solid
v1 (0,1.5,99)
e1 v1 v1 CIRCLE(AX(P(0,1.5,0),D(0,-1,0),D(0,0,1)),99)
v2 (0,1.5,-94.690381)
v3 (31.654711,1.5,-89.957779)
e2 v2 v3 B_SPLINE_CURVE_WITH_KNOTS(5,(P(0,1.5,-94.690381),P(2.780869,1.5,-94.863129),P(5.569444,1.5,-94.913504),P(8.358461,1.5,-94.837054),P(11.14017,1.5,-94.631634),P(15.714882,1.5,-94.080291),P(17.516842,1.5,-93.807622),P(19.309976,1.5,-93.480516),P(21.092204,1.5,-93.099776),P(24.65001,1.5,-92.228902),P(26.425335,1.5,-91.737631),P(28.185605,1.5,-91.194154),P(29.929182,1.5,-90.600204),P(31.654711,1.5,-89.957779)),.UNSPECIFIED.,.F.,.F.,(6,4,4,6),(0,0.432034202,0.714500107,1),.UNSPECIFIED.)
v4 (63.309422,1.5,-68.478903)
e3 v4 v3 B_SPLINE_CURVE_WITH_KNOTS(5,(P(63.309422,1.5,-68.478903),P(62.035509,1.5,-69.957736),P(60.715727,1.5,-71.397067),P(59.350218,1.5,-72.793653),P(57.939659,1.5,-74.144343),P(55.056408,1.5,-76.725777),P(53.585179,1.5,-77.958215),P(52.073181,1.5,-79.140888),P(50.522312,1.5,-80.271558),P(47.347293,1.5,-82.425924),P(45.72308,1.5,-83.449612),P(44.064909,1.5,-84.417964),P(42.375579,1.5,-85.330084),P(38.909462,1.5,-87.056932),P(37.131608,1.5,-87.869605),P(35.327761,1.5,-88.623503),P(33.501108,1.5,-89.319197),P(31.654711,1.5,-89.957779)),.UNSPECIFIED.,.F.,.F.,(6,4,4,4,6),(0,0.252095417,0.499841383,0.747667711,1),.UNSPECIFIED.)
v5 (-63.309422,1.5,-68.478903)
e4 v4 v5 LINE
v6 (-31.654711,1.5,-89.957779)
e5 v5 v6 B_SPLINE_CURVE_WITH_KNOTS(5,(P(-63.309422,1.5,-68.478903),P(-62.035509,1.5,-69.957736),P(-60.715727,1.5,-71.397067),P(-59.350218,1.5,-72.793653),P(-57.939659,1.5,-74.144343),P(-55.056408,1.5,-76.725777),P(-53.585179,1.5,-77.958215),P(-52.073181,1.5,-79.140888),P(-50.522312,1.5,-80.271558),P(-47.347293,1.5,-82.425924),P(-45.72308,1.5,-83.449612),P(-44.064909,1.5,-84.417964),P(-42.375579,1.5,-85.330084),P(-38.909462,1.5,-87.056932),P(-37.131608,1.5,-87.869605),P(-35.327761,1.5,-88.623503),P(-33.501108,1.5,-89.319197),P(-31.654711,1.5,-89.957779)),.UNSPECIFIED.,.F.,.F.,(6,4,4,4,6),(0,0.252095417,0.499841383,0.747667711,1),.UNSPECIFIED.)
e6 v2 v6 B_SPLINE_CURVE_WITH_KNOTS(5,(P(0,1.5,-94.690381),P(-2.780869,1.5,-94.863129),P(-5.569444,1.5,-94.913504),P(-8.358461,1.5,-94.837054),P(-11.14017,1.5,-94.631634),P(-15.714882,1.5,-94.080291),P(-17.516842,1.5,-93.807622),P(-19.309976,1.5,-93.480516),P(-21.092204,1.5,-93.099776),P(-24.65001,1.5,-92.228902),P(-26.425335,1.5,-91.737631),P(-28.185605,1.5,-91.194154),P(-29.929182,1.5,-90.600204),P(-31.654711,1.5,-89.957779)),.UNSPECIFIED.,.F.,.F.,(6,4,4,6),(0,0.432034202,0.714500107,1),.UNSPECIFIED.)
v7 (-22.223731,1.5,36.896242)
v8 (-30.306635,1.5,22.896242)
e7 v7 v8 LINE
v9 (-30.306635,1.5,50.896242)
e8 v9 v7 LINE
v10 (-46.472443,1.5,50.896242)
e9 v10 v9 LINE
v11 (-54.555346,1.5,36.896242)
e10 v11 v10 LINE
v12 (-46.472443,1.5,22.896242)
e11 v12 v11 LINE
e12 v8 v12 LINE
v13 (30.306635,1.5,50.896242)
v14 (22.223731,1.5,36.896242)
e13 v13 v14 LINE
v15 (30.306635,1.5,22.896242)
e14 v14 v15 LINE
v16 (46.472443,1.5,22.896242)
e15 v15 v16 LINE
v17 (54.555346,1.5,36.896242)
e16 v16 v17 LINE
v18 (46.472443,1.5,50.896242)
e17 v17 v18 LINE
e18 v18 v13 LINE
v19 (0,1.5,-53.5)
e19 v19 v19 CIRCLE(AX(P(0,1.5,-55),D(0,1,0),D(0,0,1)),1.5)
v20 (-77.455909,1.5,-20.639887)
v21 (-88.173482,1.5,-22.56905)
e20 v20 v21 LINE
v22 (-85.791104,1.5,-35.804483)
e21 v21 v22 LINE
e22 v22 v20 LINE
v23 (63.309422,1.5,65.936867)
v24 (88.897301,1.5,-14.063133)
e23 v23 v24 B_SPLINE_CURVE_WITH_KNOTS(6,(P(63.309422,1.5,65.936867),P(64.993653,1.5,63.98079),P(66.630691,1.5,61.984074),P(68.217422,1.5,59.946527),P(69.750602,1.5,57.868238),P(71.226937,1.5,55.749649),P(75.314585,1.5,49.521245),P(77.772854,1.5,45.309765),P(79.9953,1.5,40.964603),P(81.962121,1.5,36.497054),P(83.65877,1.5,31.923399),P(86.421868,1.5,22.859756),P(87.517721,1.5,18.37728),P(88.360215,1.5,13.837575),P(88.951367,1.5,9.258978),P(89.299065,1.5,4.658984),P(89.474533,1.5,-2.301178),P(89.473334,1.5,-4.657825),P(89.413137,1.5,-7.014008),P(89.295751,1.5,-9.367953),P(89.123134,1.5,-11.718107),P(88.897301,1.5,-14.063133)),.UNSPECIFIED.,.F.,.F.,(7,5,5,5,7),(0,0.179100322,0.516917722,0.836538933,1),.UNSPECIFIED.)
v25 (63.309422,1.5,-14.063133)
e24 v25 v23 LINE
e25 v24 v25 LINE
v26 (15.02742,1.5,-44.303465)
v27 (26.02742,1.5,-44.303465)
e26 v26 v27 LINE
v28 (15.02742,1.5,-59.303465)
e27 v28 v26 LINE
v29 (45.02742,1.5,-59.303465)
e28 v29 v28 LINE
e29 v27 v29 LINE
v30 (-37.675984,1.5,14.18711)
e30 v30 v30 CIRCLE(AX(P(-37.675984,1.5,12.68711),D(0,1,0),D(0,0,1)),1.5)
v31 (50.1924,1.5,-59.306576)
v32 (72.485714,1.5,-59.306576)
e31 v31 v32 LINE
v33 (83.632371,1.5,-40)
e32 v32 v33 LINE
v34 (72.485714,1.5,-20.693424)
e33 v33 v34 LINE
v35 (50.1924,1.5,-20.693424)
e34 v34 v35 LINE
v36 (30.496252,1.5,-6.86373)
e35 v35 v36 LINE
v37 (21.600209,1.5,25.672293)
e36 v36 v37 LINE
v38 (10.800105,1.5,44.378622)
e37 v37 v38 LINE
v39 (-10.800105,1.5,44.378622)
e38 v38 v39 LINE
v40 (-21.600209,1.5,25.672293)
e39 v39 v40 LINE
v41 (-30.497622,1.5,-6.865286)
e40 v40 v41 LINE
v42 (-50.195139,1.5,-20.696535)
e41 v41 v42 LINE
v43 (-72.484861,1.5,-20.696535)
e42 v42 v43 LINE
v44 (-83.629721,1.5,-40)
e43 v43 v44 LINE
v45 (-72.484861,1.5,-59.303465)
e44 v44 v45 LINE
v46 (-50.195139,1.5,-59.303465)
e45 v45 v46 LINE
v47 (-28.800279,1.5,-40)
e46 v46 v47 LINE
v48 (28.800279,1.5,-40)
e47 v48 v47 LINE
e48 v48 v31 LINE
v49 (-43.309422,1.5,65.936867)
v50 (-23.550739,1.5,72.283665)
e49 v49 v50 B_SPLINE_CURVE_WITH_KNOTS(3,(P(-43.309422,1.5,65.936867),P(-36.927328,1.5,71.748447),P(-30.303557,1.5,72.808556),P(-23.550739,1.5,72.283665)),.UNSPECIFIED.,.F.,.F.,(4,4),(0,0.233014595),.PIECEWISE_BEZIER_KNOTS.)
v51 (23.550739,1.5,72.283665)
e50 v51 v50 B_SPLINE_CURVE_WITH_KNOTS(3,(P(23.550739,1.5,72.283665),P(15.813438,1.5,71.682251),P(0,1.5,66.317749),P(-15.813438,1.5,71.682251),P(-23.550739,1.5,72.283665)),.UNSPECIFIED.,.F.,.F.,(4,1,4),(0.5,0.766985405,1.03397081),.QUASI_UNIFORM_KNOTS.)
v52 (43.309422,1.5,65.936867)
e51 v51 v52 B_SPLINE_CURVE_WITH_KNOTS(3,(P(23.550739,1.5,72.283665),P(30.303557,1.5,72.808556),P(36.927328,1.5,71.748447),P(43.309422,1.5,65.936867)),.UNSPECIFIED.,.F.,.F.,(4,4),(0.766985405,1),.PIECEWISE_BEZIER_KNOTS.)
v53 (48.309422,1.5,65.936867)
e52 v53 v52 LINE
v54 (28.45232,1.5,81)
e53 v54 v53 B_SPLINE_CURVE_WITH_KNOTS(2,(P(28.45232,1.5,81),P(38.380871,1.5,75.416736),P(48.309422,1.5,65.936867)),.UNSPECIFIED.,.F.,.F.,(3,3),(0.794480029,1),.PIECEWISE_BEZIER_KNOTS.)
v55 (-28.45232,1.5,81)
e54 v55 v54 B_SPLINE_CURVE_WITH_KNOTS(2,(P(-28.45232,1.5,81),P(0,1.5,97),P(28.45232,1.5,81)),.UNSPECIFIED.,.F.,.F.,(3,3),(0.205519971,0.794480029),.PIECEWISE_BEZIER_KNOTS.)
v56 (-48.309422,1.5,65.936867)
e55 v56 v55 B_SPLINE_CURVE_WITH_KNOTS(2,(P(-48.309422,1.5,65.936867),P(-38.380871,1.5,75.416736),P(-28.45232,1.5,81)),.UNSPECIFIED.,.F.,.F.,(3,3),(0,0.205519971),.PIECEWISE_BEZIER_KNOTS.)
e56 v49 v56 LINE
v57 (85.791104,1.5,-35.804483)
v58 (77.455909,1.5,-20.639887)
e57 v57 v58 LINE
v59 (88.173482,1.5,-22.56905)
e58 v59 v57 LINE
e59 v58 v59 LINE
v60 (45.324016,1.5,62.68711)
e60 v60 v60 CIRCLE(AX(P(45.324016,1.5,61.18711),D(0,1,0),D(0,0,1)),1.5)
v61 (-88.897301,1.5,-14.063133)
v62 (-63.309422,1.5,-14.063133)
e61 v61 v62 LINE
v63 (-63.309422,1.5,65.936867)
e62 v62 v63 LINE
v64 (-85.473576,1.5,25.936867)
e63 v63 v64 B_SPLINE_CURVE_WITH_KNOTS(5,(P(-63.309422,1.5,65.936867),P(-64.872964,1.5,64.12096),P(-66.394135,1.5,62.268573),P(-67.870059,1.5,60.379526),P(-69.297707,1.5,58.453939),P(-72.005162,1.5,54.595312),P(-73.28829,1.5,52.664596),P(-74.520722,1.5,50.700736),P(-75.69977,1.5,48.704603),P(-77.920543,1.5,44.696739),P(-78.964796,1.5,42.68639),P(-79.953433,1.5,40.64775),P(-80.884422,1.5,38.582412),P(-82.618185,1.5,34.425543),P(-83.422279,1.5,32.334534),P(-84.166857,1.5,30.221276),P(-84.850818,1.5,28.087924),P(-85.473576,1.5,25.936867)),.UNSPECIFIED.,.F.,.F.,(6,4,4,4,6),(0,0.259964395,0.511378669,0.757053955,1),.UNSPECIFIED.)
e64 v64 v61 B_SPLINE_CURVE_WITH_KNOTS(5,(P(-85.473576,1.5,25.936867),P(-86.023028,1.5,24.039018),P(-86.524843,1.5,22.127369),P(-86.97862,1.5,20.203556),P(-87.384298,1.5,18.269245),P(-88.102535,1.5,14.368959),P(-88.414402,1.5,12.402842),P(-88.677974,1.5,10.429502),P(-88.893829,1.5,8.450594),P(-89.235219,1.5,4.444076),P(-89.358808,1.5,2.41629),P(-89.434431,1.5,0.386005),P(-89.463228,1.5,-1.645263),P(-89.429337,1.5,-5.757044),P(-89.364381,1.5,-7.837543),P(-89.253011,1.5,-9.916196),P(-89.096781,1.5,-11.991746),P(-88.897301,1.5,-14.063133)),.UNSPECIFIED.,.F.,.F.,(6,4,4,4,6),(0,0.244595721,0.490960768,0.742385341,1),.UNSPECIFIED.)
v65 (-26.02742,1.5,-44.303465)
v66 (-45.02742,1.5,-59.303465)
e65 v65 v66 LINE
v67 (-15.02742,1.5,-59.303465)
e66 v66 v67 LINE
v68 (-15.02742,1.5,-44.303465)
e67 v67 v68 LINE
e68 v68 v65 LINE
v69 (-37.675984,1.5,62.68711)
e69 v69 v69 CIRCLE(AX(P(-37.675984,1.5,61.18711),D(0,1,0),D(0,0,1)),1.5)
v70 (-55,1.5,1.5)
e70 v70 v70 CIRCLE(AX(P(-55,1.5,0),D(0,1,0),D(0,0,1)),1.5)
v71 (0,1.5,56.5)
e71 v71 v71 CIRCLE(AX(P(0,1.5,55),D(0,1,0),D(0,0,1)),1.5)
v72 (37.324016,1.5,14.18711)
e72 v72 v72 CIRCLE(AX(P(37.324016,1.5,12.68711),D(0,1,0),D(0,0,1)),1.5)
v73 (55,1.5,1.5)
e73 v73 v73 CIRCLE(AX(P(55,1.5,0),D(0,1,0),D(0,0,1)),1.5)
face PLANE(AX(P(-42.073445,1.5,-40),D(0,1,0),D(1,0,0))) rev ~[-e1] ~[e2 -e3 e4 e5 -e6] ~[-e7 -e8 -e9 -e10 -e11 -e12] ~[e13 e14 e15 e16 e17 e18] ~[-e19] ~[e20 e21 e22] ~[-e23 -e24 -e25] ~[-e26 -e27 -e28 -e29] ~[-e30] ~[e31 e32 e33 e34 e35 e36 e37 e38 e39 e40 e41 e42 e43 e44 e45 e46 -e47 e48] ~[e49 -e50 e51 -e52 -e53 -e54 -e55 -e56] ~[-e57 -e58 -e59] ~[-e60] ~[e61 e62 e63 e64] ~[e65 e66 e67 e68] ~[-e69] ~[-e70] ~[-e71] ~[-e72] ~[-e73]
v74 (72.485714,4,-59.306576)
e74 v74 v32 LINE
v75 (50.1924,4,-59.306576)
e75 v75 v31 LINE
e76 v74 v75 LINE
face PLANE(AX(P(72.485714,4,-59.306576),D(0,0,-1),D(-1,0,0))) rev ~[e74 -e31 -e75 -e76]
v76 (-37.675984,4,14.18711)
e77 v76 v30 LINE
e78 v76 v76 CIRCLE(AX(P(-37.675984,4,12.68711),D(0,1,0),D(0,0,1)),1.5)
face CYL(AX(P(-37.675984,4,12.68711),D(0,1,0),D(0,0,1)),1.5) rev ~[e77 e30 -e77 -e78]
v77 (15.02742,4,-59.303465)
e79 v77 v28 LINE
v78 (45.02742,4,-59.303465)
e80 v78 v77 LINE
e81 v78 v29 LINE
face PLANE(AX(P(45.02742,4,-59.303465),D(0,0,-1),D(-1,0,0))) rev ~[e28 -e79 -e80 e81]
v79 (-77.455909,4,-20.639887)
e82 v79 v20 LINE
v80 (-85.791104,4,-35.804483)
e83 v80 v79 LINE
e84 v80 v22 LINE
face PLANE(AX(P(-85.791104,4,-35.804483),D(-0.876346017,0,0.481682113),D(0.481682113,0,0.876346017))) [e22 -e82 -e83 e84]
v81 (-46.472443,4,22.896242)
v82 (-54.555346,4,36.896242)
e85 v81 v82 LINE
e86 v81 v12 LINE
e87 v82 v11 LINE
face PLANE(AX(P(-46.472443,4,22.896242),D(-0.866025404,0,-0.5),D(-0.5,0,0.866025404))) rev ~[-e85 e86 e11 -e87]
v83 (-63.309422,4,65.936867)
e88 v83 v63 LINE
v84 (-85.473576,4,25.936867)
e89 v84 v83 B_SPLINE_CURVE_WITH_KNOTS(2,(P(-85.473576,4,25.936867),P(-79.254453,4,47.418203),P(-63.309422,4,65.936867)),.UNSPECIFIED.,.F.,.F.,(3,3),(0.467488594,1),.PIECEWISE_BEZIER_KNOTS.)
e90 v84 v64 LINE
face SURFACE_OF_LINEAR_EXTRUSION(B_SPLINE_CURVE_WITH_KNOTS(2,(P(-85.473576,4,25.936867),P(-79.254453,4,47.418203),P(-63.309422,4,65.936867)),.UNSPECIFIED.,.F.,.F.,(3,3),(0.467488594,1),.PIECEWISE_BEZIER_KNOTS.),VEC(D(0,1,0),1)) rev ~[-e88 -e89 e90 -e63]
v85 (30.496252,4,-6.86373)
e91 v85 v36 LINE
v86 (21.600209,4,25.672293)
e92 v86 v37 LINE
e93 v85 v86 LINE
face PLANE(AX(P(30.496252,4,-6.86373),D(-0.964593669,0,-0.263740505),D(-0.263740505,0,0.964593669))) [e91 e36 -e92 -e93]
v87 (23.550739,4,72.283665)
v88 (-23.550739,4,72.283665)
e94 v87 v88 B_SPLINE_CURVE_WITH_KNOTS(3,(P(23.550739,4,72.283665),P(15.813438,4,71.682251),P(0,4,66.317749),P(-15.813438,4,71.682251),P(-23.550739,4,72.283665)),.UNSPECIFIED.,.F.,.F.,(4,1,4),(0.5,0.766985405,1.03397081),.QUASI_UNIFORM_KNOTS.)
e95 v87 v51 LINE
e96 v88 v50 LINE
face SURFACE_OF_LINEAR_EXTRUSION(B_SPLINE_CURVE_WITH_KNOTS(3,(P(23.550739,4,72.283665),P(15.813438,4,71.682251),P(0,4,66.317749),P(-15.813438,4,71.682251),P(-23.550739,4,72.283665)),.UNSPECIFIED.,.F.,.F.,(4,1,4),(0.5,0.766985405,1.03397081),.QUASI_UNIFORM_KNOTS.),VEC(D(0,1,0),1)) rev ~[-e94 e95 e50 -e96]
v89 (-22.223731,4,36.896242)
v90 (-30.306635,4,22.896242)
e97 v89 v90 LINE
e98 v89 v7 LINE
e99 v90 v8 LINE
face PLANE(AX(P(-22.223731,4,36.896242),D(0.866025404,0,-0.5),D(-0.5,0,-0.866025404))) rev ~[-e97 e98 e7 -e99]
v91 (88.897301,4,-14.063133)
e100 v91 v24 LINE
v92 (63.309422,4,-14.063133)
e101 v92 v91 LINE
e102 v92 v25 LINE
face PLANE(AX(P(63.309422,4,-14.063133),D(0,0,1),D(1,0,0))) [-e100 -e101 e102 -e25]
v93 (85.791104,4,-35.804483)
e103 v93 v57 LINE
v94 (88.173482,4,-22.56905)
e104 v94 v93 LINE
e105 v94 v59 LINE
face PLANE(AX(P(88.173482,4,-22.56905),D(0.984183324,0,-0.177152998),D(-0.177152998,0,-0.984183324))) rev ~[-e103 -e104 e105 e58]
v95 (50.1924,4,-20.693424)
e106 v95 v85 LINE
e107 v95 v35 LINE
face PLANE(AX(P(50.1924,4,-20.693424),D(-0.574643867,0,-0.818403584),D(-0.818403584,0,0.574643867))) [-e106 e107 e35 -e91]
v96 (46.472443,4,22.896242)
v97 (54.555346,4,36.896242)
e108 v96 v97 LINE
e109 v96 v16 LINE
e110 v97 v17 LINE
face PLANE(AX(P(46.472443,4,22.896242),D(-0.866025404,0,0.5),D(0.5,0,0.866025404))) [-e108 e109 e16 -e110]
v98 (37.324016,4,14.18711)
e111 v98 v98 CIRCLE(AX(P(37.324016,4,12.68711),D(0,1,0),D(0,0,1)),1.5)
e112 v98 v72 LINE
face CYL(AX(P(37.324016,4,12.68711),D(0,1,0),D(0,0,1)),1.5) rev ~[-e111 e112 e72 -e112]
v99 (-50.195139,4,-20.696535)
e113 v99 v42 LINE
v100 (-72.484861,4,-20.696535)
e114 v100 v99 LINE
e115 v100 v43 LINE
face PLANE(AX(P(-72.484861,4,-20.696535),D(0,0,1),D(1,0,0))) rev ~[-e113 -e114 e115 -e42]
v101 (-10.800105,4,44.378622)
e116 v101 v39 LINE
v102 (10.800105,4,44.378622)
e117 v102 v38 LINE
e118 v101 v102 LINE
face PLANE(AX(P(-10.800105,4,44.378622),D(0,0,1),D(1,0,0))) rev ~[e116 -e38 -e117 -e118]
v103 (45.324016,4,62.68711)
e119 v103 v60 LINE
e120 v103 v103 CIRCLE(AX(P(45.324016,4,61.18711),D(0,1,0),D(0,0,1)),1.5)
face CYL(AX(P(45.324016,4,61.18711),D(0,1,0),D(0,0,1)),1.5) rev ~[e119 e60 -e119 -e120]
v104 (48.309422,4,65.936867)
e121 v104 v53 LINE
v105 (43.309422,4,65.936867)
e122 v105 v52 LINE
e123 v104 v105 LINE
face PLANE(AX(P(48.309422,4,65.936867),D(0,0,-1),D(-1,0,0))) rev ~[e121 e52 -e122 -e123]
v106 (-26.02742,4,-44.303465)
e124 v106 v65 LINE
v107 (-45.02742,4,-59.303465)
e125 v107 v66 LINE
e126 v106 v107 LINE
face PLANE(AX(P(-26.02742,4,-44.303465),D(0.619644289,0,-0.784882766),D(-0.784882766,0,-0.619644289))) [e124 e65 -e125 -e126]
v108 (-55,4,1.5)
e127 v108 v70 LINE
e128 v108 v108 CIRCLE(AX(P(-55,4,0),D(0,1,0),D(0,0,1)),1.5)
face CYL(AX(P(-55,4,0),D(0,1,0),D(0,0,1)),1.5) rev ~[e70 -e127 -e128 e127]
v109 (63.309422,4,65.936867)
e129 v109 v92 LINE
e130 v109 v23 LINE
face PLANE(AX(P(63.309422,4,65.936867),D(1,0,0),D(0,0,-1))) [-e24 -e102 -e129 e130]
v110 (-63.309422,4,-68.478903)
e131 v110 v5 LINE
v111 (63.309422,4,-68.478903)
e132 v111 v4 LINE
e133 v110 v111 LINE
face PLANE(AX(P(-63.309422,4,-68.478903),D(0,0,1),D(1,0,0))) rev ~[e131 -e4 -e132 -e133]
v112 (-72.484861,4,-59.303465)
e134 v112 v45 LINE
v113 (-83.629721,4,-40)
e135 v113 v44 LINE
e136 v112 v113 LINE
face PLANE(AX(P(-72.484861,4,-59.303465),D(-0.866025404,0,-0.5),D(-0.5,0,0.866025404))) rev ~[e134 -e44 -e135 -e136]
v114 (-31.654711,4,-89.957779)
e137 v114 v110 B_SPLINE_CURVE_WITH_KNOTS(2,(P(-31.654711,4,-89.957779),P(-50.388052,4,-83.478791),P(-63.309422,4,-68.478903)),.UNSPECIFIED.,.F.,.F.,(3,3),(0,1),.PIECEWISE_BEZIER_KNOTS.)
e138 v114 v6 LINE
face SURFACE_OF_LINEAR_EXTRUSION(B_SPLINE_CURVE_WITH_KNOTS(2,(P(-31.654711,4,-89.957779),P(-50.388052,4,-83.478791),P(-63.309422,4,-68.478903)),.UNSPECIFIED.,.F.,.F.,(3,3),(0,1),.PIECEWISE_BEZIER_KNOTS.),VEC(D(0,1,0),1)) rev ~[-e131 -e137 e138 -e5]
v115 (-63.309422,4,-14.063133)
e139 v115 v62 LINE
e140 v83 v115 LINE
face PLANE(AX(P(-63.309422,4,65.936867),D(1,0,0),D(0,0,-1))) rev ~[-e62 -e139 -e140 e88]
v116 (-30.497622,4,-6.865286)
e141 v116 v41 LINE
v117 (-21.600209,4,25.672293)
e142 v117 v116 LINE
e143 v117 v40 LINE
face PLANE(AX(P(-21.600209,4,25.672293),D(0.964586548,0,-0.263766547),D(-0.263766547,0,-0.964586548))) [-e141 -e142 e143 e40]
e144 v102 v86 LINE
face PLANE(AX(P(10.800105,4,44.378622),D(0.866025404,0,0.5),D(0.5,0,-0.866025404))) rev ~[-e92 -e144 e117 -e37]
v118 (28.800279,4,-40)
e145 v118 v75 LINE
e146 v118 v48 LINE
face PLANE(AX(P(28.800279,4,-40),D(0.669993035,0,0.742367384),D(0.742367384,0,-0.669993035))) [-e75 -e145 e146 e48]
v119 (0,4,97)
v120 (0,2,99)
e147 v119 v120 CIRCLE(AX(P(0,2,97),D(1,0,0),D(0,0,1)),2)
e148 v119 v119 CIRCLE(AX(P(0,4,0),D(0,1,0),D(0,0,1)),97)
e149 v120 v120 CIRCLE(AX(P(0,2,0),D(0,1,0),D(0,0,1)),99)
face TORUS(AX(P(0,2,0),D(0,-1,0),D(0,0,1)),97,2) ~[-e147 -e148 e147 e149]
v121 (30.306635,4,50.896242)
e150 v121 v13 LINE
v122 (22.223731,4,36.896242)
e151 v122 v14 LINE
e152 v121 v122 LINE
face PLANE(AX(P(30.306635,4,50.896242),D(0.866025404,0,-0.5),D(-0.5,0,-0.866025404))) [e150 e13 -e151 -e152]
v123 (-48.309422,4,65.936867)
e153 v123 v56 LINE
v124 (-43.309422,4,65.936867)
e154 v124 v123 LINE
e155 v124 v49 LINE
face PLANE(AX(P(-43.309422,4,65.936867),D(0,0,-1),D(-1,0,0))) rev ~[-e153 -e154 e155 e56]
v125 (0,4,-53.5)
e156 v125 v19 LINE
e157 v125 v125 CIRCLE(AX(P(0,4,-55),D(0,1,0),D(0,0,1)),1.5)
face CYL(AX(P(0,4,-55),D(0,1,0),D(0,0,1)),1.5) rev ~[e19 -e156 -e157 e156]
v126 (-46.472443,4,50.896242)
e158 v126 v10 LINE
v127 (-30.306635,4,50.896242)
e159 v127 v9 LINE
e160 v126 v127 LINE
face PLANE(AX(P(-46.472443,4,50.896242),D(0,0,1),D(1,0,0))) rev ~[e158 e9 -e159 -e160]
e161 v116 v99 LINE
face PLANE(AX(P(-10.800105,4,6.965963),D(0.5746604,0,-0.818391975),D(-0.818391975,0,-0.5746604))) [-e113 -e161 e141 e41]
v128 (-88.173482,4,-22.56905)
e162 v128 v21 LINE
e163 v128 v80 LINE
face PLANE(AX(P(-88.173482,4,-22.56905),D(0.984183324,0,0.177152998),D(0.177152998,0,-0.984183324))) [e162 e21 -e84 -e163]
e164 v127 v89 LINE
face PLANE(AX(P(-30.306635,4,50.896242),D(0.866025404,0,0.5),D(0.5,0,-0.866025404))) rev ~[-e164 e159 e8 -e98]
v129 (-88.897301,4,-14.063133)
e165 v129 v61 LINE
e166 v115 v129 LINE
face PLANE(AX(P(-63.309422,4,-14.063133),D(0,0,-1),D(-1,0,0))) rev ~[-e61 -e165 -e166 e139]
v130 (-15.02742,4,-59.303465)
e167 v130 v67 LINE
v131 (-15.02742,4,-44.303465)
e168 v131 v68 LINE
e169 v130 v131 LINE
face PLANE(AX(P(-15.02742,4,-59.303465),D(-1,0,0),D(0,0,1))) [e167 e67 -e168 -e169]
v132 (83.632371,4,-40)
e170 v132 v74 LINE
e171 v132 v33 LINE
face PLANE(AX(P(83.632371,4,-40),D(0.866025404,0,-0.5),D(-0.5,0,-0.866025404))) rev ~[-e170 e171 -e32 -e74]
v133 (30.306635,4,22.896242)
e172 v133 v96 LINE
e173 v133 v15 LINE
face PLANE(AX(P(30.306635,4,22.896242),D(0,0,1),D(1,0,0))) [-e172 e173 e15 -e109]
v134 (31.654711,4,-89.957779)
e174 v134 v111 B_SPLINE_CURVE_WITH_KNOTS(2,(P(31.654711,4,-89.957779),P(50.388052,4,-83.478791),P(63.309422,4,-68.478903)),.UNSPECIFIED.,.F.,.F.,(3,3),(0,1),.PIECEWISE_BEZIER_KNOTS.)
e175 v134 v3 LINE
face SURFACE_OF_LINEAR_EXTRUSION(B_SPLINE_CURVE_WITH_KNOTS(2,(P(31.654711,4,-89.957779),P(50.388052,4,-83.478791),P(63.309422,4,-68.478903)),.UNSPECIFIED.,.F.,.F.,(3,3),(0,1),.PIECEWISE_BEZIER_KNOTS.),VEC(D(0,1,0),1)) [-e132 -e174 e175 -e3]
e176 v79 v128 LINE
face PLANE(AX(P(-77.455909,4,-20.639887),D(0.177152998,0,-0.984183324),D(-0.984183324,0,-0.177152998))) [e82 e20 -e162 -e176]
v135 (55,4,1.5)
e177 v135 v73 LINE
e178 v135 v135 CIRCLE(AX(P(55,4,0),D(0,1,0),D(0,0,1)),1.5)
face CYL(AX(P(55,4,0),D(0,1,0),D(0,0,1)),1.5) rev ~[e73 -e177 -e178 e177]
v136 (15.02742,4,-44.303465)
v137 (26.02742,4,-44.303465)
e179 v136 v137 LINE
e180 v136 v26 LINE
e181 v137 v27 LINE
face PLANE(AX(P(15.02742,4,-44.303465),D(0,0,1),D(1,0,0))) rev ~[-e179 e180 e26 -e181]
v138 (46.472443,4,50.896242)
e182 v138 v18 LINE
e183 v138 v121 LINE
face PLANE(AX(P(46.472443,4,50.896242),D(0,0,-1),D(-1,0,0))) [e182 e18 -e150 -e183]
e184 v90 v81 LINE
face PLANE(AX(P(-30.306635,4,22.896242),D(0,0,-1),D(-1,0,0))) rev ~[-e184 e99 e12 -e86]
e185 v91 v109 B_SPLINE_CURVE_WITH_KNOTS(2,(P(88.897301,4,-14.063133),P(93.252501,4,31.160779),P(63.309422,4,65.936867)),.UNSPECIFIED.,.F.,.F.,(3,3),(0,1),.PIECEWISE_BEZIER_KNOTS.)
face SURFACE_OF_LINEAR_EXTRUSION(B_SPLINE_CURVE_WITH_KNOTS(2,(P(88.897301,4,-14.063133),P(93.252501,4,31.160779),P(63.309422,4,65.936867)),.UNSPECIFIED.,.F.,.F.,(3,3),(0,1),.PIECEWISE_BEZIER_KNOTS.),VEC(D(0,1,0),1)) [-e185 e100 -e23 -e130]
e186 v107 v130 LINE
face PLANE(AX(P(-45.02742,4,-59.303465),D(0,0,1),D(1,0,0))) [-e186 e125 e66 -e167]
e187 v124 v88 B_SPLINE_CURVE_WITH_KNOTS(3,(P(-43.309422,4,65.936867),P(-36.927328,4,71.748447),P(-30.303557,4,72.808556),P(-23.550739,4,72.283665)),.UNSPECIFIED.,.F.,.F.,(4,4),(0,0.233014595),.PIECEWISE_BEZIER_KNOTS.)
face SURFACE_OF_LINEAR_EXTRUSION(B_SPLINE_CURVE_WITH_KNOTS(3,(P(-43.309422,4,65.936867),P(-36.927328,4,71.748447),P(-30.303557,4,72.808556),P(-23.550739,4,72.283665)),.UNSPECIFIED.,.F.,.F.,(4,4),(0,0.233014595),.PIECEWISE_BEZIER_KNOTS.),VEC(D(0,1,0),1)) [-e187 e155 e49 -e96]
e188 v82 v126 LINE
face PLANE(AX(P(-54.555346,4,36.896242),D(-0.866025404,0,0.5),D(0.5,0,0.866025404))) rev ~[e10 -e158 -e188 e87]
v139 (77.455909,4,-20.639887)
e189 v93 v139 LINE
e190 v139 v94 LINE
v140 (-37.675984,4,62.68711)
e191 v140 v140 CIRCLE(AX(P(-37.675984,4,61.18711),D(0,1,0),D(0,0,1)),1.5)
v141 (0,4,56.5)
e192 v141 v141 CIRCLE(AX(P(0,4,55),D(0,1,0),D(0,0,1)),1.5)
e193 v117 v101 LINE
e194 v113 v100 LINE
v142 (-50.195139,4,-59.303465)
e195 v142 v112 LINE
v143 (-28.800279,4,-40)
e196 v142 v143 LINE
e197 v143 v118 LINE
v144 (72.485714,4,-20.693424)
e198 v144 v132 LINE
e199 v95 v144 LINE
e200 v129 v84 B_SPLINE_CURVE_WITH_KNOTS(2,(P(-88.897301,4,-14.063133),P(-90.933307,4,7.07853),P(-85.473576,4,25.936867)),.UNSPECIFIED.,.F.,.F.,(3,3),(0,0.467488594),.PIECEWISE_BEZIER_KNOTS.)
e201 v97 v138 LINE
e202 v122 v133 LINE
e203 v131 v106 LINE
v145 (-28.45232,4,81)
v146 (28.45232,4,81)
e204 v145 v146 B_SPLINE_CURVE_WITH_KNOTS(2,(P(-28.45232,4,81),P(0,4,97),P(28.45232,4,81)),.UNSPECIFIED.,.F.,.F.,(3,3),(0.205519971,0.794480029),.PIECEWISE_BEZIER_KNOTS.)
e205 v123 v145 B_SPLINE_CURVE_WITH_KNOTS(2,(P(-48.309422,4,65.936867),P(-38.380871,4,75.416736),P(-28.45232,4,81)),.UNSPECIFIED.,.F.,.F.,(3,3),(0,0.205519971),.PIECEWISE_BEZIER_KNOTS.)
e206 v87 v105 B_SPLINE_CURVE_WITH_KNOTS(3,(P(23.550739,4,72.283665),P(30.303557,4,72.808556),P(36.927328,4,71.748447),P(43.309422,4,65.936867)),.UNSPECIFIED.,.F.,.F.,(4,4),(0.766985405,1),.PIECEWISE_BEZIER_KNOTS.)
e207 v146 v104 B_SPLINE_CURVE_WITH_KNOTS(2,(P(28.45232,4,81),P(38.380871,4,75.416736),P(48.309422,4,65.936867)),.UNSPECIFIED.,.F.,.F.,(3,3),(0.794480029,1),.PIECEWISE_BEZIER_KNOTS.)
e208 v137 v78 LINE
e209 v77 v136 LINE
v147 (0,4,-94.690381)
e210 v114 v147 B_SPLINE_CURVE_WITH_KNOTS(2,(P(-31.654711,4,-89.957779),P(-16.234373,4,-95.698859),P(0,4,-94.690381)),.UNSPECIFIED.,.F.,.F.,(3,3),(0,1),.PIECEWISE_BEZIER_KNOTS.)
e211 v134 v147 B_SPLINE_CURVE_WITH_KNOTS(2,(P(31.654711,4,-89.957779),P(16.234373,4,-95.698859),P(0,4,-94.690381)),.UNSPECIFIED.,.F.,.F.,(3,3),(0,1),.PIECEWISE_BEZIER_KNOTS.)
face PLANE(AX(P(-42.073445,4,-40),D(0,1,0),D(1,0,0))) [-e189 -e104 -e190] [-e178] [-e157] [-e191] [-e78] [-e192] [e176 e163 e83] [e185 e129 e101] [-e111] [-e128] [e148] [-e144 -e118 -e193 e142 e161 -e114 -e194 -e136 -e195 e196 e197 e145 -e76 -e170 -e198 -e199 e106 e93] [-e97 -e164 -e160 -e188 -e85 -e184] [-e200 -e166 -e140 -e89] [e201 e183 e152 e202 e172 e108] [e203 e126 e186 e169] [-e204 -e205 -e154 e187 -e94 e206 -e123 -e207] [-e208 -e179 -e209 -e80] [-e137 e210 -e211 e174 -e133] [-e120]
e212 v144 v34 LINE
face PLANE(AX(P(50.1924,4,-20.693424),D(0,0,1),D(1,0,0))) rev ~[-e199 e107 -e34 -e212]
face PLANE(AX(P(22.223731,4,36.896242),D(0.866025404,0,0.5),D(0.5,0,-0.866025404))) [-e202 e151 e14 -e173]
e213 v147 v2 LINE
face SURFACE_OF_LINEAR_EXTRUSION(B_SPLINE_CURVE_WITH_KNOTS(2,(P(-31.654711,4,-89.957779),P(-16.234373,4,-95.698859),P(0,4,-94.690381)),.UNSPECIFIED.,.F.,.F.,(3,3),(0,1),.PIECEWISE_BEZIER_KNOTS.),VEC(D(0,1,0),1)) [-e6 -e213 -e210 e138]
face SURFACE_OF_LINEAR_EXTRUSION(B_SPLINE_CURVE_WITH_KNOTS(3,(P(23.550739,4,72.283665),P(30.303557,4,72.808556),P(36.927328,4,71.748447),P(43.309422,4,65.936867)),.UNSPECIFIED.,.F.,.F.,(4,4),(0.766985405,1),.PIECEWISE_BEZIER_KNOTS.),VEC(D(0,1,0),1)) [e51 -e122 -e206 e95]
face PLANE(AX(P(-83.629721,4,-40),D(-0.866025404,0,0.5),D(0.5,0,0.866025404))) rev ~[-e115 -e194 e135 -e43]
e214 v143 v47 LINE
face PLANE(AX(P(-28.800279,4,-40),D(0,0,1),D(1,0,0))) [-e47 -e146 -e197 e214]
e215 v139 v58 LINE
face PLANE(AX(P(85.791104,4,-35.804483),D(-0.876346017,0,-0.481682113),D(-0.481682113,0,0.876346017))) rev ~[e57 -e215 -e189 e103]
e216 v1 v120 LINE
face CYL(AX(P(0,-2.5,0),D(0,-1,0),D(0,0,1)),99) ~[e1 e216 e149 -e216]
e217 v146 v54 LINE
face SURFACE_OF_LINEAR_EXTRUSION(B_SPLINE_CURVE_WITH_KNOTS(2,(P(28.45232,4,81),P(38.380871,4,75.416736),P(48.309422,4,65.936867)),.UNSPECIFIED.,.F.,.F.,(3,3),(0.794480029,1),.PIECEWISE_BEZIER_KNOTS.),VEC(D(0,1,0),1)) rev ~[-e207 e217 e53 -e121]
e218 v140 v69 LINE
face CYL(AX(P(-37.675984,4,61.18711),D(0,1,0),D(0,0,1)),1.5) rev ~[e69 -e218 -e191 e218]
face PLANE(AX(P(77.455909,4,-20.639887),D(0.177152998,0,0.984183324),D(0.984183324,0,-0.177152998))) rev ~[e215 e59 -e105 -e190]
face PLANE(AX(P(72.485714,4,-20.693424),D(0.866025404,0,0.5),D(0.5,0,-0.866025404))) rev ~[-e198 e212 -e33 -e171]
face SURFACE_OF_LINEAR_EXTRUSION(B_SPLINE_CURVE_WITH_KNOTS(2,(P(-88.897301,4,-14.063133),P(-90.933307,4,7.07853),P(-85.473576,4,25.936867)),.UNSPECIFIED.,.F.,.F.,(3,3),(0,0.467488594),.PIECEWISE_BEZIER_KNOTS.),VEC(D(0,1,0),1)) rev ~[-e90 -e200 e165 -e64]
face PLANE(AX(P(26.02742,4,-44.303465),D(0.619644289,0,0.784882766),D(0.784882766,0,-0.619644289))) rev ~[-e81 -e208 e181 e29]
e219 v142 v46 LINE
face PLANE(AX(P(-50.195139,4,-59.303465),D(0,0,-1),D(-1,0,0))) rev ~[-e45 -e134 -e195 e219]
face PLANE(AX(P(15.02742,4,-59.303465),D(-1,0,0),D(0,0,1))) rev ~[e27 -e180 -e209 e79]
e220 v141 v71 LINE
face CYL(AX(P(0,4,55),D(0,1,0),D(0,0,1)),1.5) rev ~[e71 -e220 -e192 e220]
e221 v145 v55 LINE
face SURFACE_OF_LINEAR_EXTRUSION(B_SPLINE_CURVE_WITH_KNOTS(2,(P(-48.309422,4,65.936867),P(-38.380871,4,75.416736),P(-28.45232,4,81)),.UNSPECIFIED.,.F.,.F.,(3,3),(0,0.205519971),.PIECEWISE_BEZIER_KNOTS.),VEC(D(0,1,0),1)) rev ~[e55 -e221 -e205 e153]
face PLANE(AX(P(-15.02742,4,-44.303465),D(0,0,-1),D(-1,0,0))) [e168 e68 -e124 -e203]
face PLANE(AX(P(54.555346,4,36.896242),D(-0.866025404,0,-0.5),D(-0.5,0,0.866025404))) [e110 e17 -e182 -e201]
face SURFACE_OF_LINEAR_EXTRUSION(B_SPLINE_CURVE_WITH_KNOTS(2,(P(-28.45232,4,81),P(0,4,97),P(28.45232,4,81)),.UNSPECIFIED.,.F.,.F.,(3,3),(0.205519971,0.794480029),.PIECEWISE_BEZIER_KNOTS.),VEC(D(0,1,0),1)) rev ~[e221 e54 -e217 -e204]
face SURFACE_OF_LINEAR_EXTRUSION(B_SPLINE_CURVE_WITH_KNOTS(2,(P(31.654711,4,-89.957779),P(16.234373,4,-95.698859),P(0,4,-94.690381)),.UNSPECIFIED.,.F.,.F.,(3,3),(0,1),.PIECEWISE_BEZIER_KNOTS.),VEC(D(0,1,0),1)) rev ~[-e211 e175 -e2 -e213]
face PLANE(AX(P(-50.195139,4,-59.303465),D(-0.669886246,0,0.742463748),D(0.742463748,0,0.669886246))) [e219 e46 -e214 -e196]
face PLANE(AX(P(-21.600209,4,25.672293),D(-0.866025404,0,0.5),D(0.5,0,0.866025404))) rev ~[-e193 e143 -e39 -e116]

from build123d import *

# Parameters (mm, degrees)
BOSS_EXTRUDE1_DEPTH      = 4
BOSS_EXTRUDE1_DEPTH_BACK = 2.5
SKETCH1_R                = 99
SKETCH3_R                = 1.5
CUT_EXTRUDE2_DEPTH       = 20.5
SKETCH4_R                = 1.5
CUT_EXTRUDE3_DEPTH       = 20.5
CUT_EXTRUDE4_DEPTH       = 10
CUT_EXTRUDE5_DEPTH       = 10
CUT_EXTRUDE6_DEPTH       = 10
BOSS_EXTRUDE4_DEPTH      = 6.5
CUT_EXTRUDE12_DEPTH      = 147.5
CUT_EXTRUDE12_DEPTH_BACK = 90
SKETCH9_W                = 198
SKETCH9_H                = 4
SKETCH15_R               = 1.5
CUT_EXTRUDE13_DEPTH      = 147.5
BOSS_EXTRUDE12_DEPTH     = 2.5
CUT_EXTRUDE14_DEPTH      = 2.5
CUT_EXTRUDE15_DEPTH      = 2.5
BOSS_EXTRUDE14_DEPTH     = 2.5
CUT_EXTRUDE28_DEPTH      = 2.5
CUT_EXTRUDE30_DEPTH      = 2.5
CUT_EXTRUDE31_DEPTH      = 2.5
CUT_EXTRUDE32_DEPTH      = 2.5
CUT_EXTRUDE33_DEPTH      = 2.5
FILLET1_R                = 2


with BuildPart() as part:
    # Sketch1 → Boss-Extrude1 (new, two sides: drawn at the far end of the back side and taken through both)
    with BuildSketch(Plane(origin=(0, 0, 0), x_dir=(1, 0, 0), z_dir=(0, 1, 0)).offset(-BOSS_EXTRUDE1_DEPTH_BACK)):
        with Locations(Location((0, 0, 0), (0, 0, 270))):
            Circle(SKETCH1_R)
    extrude(amount=BOSS_EXTRUDE1_DEPTH + BOSS_EXTRUDE1_DEPTH_BACK)

    # Sketch3 → Cut-Extrude2 (cut)
    with BuildSketch(Plane(origin=(0, 4, 0), x_dir=(1, 0, 0), z_dir=(0, 1, 0))):
        with Locations(Location((-55, 0, 0), (0, 0, 270))):
            Circle(SKETCH3_R)
        with Locations(Location((55, 0, 0), (0, 0, 270))):
            Circle(SKETCH3_R)
        with Locations(Location((0, -55, 0), (0, 0, 270))):
            Circle(SKETCH3_R)
    extrude(amount=-CUT_EXTRUDE2_DEPTH, mode=Mode.SUBTRACT)

    # Sketch4 → Cut-Extrude3 (cut)
    with BuildSketch(Plane(origin=(0, 4, 0), x_dir=(1, 0, 0), z_dir=(0, 1, 0))):
        with Locations(Location((-37.67598398, -12.687109852, 0), (0, 0, 270))):
            Circle(SKETCH4_R)
        with Locations(Location((-37.67598398, -61.187109852, 0), (0, 0, 270))):
            Circle(SKETCH4_R)
        with Locations(Location((45.32401602, -61.187109852, 0), (0, 0, 270))):
            Circle(SKETCH4_R)
        with Locations(Location((37.32401602, -12.687109852, 0), (0, 0, 270))):
            Circle(SKETCH4_R)
    extrude(amount=-CUT_EXTRUDE3_DEPTH, mode=Mode.SUBTRACT)

    # Sketch5 → Cut-Extrude4 (cut)
    with BuildSketch(Plane(origin=(0, 4, 0), x_dir=(1, 0, 0), z_dir=(0, 1, 0))):
        Polygon((28.800278696, 40), (14.400139348, 64.941772986), (-14.400139348, 64.941772986), (-28.800278696, 40), (-14.400139348, 15.058227014), (14.400139348, 15.058227014), align=None)
        Polygon((21.600209022, -25.67229275), (10.800104511, -6.965963011), (-10.800104511, -6.965963011), (-21.600209022, -25.67229275), (-10.800104511, -44.37862249), (10.800104511, -44.37862249), align=None)
        Polygon((83.632371409, 40), (72.485714402, 59.306576271), (50.192400388, 59.306576271), (39.045743381, 40), (50.192400388, 20.693423729), (72.485714402, 20.693423729), align=None)
        Polygon((-39.050278696, 40), (-50.195139348, 59.303464893), (-72.484860652, 59.303464893), (-83.629721304, 40), (-72.484860652, 20.696535107), (-50.195139348, 20.696535107), align=None)
    extrude(amount=-CUT_EXTRUDE4_DEPTH, mode=Mode.SUBTRACT)

    # Sketch6 → Cut-Extrude5 (cut)
    with BuildSketch(Plane(origin=(0, 4, 0), x_dir=(1, 0, 0), z_dir=(0, 1, 0))):
        with BuildLine():
            add(Edge.make_bspline(
                [(-31.654711151, 89.957779093), (-50.388052391, 83.478791384), (-63.309422303, 68.478903242)],
                knots=[0, 0, 0, 1, 1, 1], degree=2))
            Line((-63.309422303, 68.478903242), (0, 68.478903242))
            Line((0, 68.478903242), (0, 89.957779093))
            Line((0, 89.957779093), (-31.654711151, 89.957779093))
        make_face()
        with BuildLine():
            Line((0, 89.957779093), (0, 68.478903242))
            Line((0, 68.478903242), (63.309422303, 68.478903242))
            add(Edge.make_bspline(
                [(31.654711151, 89.957779093), (50.388052391, 83.478791384), (63.309422303, 68.478903242)],
                knots=[0, 0, 0, 1, 1, 1], degree=2))
            Line((31.654711151, 89.957779093), (0, 89.957779093))
        make_face()
        with BuildLine():
            add(Edge.make_bspline(
                [(-31.654711151, 89.957779093), (-16.234373416, 95.698858628), (0, 94.690381395)],
                knots=[0, 0, 0, 1, 1, 1], degree=2))
            Line((-31.654711151, 89.957779093), (0, 89.957779093))
            Line((0, 89.957779093), (0, 94.690381395))
        make_face()
        with BuildLine():
            Line((0, 94.690381395), (0, 89.957779093))
            Line((0, 89.957779093), (31.654711151, 89.957779093))
            add(Edge.make_bspline(
                [(31.654711151, 89.957779093), (16.234373416, 95.698858628), (0, 94.690381395)],
                knots=[0, 0, 0, 1, 1, 1], degree=2))
        make_face()
    extrude(amount=-CUT_EXTRUDE5_DEPTH, mode=Mode.SUBTRACT)

    # Sketch7 → Cut-Extrude6 (cut)
    with BuildSketch(Plane(origin=(0, 4, 0), x_dir=(1, 0, 0), z_dir=(0, 1, 0))):
        with BuildLine():
            Line((-75.473576138, -25.936867131), (-63.309422303, -25.936867131))
            Line((-63.309422303, -25.936867131), (-63.309422303, 14.063132869))
            Line((-63.309422303, 14.063132869), (-88.897300533, 14.063132869))
            add(Edge.make_bspline(
                [(-88.897300533, 14.063132869), (-90.933307094, -7.078529926), (-85.473576138, -25.936867131)],
                knots=[0, 0, 0, 0.467488594, 0.467488594, 0.467488594], degree=2))
            Line((-85.473576138, -25.936867131), (-75.473576138, -25.936867131))
        make_face()
        with BuildLine():
            add(Edge.make_bspline(
                [(-85.473576138, -25.936867131), (-79.254453264, -47.418203342), (-63.309422303, -65.936867131)],
                knots=[0.467488594, 0.467488594, 0.467488594, 1, 1, 1], degree=2))
            Line((-63.309422303, -65.936867131), (-63.309422303, -25.936867131))
            Line((-63.309422303, -25.936867131), (-75.473576138, -25.936867131))
            Line((-75.473576138, -25.936867131), (-85.473576138, -25.936867131))
        make_face()
        with BuildLine():
            add(Edge.make_bspline(
                [(88.897300533, 14.063132869), (93.252501041, -31.160778622), (63.309422303, -65.936867131)],
                knots=[0, 0, 0, 1, 1, 1], degree=2))
            Line((63.309422303, -65.936867131), (63.309422303, 14.063132869))
            Line((63.309422303, 14.063132869), (88.897300533, 14.063132869))
        make_face()
    extrude(amount=-CUT_EXTRUDE6_DEPTH, mode=Mode.SUBTRACT)

    # Sketch8 → Boss-Extrude4 (add)
    with BuildSketch(Plane(origin=(0, 4, 0), x_dir=(1, 0, 0), z_dir=(0, 1, 0))):
        Polygon((14.400139348, 64.941772986), (-14.400139348, 64.941772986), (-28.800278696, 40), (0, 40), (28.800278696, 40), align=None)
    extrude(amount=-BOSS_EXTRUDE4_DEPTH)

    # Sketch9 → Cut-Extrude12 (cut, two sides: drawn at the far end of the back side and taken through both)
    with BuildSketch(Plane.XY.offset(-14.063132869).offset(-CUT_EXTRUDE12_DEPTH_BACK)):
        with Locations((0, -0.5)):
            Rectangle(SKETCH9_W, SKETCH9_H)
    extrude(amount=CUT_EXTRUDE12_DEPTH + CUT_EXTRUDE12_DEPTH_BACK, mode=Mode.SUBTRACT)

    # Sketch15 → Cut-Extrude13 (cut)
    with BuildSketch(Plane(origin=(0, 4, 0), x_dir=(1, 0, 0), z_dir=(0, 1, 0))):
        with Locations(Location((0, 55, 0), (0, 0, 270))):
            Circle(SKETCH15_R)
    extrude(amount=-CUT_EXTRUDE13_DEPTH, mode=Mode.SUBTRACT)

    # Sketch16 → Boss-Extrude12 (add)
    with BuildSketch(Plane(origin=(0, 4, 0), x_dir=(1, 0, 0), z_dir=(0, 1, 0))):
        Polygon((-43.18, 47.15288712), (-43.18, 32.84711288), (-39.050278696, 40), align=None)
        Polygon((43.18, 47.160742516), (43.18, 32.839257484), (50.192400388, 20.693423729), (50.192400388, 59.306576271), align=None)
        Polygon((39.045743381, 40), (43.18, 32.839257484), (43.18, 47.160742516), align=None)
        Polygon((-50.195139348, 59.303464893), (-50.195139348, 20.696535107), (-39.050278696, 40), align=None)
    extrude(amount=-BOSS_EXTRUDE12_DEPTH)

    # Sketch17 → Cut-Extrude14 (cut)
    with BuildSketch(Plane(origin=(0, 4, 0), x_dir=(1, 0, 0), z_dir=(0, 1, 0))):
        Polygon((-46.472442717, -50.896241942), (-30.30663518, -50.896241942), (-22.223731411, -36.896241942), (-30.30663518, -22.896241942), (-46.472442717, -22.896241942), (-54.555346486, -36.896241942), align=None)
        Polygon((22.223731411, -36.896241942), (30.30663518, -22.896241942), (46.472442717, -22.896241942), (54.555346486, -36.896241942), (46.472442717, -50.896241942), (30.30663518, -50.896241942), align=None)
    extrude(amount=-CUT_EXTRUDE14_DEPTH, mode=Mode.SUBTRACT)

    # Sketch18 → Cut-Extrude15 (cut)
    with BuildSketch(Plane(origin=(0, 4, 0), x_dir=(1, 0, 0), z_dir=(0, 1, 0))):
        with BuildLine():
            Line((-23.550738761, -72.283664778), (-28.452320168, -81))
            add(Edge.make_bspline(
                [(-28.452320168, -81), (-14.226160084, -89), (0, -89)],
                knots=[0.205519971, 0.205519971, 0.205519971, 0.5, 0.5, 0.5], degree=2))
            Line((0, -89), (0, -69))
            add(Edge.make_bspline(
                [(-23.550738761, -72.283664778), (-15.813437997, -71.682250906), (-7.906718999, -69), (0, -69)],
                knots=[0.233014595, 0.233014595, 0.233014595, 0.233014595, 0.5, 0.5, 0.5, 0.5], degree=3))
        make_face()
        with BuildLine():
            Line((-43.309422303, -65.936867131), (-48.309422303, -65.936867131))
            add(Edge.make_bspline(
                [(-48.309422303, -65.936867131), (-38.380871236, -75.416735924), (-28.452320168, -81)],
                knots=[0, 0, 0, 0.205519971, 0.205519971, 0.205519971], degree=2))
            Line((-28.452320168, -81), (-23.550738761, -72.283664778))
            add(Edge.make_bspline(
                [(-43.309422303, -65.936867131), (-36.927327916, -71.748446546), (-30.30355735, -72.80855568), (-23.550738761, -72.283664778)],
                knots=[0, 0, 0, 0, 0.233014595, 0.233014595, 0.233014595, 0.233014595], degree=3))
        make_face()
        with BuildLine():
            Line((0, -69), (0, -89))
            add(Edge.make_bspline(
                [(0, -89), (14.226160084, -89), (28.452320168, -81)],
                knots=[0.5, 0.5, 0.5, 0.794480029, 0.794480029, 0.794480029], degree=2))
            Line((28.452320168, -81), (23.550738761, -72.283664778))
            add(Edge.make_bspline(
                [(0, -69), (7.906718999, -69), (15.813437997, -71.682250906), (23.550738761, -72.283664778)],
                knots=[0.5, 0.5, 0.5, 0.5, 0.766985405, 0.766985405, 0.766985405, 0.766985405], degree=3))
        make_face()
        with BuildLine():
            Line((23.550738761, -72.283664778), (28.452320168, -81))
            add(Edge.make_bspline(
                [(28.452320168, -81), (38.380871236, -75.416735924), (48.309422303, -65.936867131)],
                knots=[0.794480029, 0.794480029, 0.794480029, 1, 1, 1], degree=2))
            Line((48.309422303, -65.936867131), (43.309422303, -65.936867131))
            add(Edge.make_bspline(
                [(23.550738761, -72.283664778), (30.30355735, -72.80855568), (36.927327916, -71.748446546), (43.309422303, -65.936867131)],
                knots=[0.766985405, 0.766985405, 0.766985405, 0.766985405, 1, 1, 1, 1], degree=3))
        make_face()
    extrude(amount=-CUT_EXTRUDE15_DEPTH, mode=Mode.SUBTRACT)

    # Sketch19 → Boss-Extrude14 (add)
    with BuildSketch(Plane(origin=(0, 4, 0), x_dir=(1, 0, 0), z_dir=(0, 1, 0))):
        Polygon((-10.800104511, -6.965963011), (-30.30663518, -22.896241942), (-14.400139348, 15.058227014), (14.400139348, 15.058227014), (30.30663518, -22.896241942), (10.800104511, -6.965963011), align=None)
    extrude(amount=-BOSS_EXTRUDE14_DEPTH)

    # Sketch20 → Cut-Extrude28 (cut)
    with BuildSketch(Plane(origin=(0, 4, 0), x_dir=(1, 0, 0), z_dir=(0, 1, 0))):
        Polygon((-28.800278696, 40), (-10.800104511, -6.965963011), (10.800104511, -6.965963011), (28.800278696, 40), (14.400139348, 15.058227014), (-14.400139348, 15.058227014), align=None)
    extrude(amount=-CUT_EXTRUDE28_DEPTH, mode=Mode.SUBTRACT)

    # Sketch24 → Cut-Extrude30 (cut)
    with BuildSketch(Plane(origin=(0, 4, 0), x_dir=(1, 0, 0), z_dir=(0, 1, 0))):
        Polygon((-50.195139348, 20.696535107), (-50.195139348, 59.303464893), (-28.800278696, 40), (-10.800104511, -6.965963011), align=None)
        Polygon((10.800104511, -6.965963011), (28.800278696, 40), (50.192400388, 59.306576271), (50.192400388, 20.693423729), align=None)
    extrude(amount=-CUT_EXTRUDE30_DEPTH, mode=Mode.SUBTRACT)

    # Sketch25 → Cut-Extrude31 (cut)
    with BuildSketch(Plane(origin=(0, 4, 0), x_dir=(1, 0, 0), z_dir=(0, 1, 0))):
        Polygon((-26.02741996, 44.303464893), (-45.02741996, 59.303464893), (-15.02741996, 59.303464893), (-15.02741996, 44.303464893), align=None)
        Polygon((15.02741996, 44.303464893), (26.02741996, 44.303464893), (45.02741996, 59.303464893), (15.02741996, 59.303464893), align=None)
    extrude(amount=-CUT_EXTRUDE31_DEPTH, mode=Mode.SUBTRACT)

    # Sketch26 → Cut-Extrude32 (cut)
    with BuildSketch(Plane(origin=(0, 4, 0), x_dir=(1, 0, 0), z_dir=(0, 1, 0))):
        Polygon((-21.600209022, -25.67229275), (-30.497621929, 6.865286048), (30.496252449, 6.863730359), (21.600209022, -25.67229275), align=None)
    extrude(amount=-CUT_EXTRUDE32_DEPTH, mode=Mode.SUBTRACT)

    # Sketch27 → Cut-Extrude33 (cut)
    with BuildSketch(Plane(origin=(0, 4, 0), x_dir=(1, 0, 0), z_dir=(0, 1, 0))):
        Polygon((-88.173481573, 22.569049832), (-85.791103644, 35.80448277), (-77.455908988, 20.639886767), align=None)
        Polygon((85.791103644, 35.80448277), (77.455908988, 20.639886767), (88.173481573, 22.569049832), align=None)
    extrude(amount=-CUT_EXTRUDE33_DEPTH, mode=Mode.SUBTRACT)

    # Fillet1
    fillet1_edges = [part.edges().sort_by_distance(p)[0] for p in [
        (0, 4, -99),
    ]]
    fillet(fillet1_edges, radius=FILLET1_R)


solid = part.part
